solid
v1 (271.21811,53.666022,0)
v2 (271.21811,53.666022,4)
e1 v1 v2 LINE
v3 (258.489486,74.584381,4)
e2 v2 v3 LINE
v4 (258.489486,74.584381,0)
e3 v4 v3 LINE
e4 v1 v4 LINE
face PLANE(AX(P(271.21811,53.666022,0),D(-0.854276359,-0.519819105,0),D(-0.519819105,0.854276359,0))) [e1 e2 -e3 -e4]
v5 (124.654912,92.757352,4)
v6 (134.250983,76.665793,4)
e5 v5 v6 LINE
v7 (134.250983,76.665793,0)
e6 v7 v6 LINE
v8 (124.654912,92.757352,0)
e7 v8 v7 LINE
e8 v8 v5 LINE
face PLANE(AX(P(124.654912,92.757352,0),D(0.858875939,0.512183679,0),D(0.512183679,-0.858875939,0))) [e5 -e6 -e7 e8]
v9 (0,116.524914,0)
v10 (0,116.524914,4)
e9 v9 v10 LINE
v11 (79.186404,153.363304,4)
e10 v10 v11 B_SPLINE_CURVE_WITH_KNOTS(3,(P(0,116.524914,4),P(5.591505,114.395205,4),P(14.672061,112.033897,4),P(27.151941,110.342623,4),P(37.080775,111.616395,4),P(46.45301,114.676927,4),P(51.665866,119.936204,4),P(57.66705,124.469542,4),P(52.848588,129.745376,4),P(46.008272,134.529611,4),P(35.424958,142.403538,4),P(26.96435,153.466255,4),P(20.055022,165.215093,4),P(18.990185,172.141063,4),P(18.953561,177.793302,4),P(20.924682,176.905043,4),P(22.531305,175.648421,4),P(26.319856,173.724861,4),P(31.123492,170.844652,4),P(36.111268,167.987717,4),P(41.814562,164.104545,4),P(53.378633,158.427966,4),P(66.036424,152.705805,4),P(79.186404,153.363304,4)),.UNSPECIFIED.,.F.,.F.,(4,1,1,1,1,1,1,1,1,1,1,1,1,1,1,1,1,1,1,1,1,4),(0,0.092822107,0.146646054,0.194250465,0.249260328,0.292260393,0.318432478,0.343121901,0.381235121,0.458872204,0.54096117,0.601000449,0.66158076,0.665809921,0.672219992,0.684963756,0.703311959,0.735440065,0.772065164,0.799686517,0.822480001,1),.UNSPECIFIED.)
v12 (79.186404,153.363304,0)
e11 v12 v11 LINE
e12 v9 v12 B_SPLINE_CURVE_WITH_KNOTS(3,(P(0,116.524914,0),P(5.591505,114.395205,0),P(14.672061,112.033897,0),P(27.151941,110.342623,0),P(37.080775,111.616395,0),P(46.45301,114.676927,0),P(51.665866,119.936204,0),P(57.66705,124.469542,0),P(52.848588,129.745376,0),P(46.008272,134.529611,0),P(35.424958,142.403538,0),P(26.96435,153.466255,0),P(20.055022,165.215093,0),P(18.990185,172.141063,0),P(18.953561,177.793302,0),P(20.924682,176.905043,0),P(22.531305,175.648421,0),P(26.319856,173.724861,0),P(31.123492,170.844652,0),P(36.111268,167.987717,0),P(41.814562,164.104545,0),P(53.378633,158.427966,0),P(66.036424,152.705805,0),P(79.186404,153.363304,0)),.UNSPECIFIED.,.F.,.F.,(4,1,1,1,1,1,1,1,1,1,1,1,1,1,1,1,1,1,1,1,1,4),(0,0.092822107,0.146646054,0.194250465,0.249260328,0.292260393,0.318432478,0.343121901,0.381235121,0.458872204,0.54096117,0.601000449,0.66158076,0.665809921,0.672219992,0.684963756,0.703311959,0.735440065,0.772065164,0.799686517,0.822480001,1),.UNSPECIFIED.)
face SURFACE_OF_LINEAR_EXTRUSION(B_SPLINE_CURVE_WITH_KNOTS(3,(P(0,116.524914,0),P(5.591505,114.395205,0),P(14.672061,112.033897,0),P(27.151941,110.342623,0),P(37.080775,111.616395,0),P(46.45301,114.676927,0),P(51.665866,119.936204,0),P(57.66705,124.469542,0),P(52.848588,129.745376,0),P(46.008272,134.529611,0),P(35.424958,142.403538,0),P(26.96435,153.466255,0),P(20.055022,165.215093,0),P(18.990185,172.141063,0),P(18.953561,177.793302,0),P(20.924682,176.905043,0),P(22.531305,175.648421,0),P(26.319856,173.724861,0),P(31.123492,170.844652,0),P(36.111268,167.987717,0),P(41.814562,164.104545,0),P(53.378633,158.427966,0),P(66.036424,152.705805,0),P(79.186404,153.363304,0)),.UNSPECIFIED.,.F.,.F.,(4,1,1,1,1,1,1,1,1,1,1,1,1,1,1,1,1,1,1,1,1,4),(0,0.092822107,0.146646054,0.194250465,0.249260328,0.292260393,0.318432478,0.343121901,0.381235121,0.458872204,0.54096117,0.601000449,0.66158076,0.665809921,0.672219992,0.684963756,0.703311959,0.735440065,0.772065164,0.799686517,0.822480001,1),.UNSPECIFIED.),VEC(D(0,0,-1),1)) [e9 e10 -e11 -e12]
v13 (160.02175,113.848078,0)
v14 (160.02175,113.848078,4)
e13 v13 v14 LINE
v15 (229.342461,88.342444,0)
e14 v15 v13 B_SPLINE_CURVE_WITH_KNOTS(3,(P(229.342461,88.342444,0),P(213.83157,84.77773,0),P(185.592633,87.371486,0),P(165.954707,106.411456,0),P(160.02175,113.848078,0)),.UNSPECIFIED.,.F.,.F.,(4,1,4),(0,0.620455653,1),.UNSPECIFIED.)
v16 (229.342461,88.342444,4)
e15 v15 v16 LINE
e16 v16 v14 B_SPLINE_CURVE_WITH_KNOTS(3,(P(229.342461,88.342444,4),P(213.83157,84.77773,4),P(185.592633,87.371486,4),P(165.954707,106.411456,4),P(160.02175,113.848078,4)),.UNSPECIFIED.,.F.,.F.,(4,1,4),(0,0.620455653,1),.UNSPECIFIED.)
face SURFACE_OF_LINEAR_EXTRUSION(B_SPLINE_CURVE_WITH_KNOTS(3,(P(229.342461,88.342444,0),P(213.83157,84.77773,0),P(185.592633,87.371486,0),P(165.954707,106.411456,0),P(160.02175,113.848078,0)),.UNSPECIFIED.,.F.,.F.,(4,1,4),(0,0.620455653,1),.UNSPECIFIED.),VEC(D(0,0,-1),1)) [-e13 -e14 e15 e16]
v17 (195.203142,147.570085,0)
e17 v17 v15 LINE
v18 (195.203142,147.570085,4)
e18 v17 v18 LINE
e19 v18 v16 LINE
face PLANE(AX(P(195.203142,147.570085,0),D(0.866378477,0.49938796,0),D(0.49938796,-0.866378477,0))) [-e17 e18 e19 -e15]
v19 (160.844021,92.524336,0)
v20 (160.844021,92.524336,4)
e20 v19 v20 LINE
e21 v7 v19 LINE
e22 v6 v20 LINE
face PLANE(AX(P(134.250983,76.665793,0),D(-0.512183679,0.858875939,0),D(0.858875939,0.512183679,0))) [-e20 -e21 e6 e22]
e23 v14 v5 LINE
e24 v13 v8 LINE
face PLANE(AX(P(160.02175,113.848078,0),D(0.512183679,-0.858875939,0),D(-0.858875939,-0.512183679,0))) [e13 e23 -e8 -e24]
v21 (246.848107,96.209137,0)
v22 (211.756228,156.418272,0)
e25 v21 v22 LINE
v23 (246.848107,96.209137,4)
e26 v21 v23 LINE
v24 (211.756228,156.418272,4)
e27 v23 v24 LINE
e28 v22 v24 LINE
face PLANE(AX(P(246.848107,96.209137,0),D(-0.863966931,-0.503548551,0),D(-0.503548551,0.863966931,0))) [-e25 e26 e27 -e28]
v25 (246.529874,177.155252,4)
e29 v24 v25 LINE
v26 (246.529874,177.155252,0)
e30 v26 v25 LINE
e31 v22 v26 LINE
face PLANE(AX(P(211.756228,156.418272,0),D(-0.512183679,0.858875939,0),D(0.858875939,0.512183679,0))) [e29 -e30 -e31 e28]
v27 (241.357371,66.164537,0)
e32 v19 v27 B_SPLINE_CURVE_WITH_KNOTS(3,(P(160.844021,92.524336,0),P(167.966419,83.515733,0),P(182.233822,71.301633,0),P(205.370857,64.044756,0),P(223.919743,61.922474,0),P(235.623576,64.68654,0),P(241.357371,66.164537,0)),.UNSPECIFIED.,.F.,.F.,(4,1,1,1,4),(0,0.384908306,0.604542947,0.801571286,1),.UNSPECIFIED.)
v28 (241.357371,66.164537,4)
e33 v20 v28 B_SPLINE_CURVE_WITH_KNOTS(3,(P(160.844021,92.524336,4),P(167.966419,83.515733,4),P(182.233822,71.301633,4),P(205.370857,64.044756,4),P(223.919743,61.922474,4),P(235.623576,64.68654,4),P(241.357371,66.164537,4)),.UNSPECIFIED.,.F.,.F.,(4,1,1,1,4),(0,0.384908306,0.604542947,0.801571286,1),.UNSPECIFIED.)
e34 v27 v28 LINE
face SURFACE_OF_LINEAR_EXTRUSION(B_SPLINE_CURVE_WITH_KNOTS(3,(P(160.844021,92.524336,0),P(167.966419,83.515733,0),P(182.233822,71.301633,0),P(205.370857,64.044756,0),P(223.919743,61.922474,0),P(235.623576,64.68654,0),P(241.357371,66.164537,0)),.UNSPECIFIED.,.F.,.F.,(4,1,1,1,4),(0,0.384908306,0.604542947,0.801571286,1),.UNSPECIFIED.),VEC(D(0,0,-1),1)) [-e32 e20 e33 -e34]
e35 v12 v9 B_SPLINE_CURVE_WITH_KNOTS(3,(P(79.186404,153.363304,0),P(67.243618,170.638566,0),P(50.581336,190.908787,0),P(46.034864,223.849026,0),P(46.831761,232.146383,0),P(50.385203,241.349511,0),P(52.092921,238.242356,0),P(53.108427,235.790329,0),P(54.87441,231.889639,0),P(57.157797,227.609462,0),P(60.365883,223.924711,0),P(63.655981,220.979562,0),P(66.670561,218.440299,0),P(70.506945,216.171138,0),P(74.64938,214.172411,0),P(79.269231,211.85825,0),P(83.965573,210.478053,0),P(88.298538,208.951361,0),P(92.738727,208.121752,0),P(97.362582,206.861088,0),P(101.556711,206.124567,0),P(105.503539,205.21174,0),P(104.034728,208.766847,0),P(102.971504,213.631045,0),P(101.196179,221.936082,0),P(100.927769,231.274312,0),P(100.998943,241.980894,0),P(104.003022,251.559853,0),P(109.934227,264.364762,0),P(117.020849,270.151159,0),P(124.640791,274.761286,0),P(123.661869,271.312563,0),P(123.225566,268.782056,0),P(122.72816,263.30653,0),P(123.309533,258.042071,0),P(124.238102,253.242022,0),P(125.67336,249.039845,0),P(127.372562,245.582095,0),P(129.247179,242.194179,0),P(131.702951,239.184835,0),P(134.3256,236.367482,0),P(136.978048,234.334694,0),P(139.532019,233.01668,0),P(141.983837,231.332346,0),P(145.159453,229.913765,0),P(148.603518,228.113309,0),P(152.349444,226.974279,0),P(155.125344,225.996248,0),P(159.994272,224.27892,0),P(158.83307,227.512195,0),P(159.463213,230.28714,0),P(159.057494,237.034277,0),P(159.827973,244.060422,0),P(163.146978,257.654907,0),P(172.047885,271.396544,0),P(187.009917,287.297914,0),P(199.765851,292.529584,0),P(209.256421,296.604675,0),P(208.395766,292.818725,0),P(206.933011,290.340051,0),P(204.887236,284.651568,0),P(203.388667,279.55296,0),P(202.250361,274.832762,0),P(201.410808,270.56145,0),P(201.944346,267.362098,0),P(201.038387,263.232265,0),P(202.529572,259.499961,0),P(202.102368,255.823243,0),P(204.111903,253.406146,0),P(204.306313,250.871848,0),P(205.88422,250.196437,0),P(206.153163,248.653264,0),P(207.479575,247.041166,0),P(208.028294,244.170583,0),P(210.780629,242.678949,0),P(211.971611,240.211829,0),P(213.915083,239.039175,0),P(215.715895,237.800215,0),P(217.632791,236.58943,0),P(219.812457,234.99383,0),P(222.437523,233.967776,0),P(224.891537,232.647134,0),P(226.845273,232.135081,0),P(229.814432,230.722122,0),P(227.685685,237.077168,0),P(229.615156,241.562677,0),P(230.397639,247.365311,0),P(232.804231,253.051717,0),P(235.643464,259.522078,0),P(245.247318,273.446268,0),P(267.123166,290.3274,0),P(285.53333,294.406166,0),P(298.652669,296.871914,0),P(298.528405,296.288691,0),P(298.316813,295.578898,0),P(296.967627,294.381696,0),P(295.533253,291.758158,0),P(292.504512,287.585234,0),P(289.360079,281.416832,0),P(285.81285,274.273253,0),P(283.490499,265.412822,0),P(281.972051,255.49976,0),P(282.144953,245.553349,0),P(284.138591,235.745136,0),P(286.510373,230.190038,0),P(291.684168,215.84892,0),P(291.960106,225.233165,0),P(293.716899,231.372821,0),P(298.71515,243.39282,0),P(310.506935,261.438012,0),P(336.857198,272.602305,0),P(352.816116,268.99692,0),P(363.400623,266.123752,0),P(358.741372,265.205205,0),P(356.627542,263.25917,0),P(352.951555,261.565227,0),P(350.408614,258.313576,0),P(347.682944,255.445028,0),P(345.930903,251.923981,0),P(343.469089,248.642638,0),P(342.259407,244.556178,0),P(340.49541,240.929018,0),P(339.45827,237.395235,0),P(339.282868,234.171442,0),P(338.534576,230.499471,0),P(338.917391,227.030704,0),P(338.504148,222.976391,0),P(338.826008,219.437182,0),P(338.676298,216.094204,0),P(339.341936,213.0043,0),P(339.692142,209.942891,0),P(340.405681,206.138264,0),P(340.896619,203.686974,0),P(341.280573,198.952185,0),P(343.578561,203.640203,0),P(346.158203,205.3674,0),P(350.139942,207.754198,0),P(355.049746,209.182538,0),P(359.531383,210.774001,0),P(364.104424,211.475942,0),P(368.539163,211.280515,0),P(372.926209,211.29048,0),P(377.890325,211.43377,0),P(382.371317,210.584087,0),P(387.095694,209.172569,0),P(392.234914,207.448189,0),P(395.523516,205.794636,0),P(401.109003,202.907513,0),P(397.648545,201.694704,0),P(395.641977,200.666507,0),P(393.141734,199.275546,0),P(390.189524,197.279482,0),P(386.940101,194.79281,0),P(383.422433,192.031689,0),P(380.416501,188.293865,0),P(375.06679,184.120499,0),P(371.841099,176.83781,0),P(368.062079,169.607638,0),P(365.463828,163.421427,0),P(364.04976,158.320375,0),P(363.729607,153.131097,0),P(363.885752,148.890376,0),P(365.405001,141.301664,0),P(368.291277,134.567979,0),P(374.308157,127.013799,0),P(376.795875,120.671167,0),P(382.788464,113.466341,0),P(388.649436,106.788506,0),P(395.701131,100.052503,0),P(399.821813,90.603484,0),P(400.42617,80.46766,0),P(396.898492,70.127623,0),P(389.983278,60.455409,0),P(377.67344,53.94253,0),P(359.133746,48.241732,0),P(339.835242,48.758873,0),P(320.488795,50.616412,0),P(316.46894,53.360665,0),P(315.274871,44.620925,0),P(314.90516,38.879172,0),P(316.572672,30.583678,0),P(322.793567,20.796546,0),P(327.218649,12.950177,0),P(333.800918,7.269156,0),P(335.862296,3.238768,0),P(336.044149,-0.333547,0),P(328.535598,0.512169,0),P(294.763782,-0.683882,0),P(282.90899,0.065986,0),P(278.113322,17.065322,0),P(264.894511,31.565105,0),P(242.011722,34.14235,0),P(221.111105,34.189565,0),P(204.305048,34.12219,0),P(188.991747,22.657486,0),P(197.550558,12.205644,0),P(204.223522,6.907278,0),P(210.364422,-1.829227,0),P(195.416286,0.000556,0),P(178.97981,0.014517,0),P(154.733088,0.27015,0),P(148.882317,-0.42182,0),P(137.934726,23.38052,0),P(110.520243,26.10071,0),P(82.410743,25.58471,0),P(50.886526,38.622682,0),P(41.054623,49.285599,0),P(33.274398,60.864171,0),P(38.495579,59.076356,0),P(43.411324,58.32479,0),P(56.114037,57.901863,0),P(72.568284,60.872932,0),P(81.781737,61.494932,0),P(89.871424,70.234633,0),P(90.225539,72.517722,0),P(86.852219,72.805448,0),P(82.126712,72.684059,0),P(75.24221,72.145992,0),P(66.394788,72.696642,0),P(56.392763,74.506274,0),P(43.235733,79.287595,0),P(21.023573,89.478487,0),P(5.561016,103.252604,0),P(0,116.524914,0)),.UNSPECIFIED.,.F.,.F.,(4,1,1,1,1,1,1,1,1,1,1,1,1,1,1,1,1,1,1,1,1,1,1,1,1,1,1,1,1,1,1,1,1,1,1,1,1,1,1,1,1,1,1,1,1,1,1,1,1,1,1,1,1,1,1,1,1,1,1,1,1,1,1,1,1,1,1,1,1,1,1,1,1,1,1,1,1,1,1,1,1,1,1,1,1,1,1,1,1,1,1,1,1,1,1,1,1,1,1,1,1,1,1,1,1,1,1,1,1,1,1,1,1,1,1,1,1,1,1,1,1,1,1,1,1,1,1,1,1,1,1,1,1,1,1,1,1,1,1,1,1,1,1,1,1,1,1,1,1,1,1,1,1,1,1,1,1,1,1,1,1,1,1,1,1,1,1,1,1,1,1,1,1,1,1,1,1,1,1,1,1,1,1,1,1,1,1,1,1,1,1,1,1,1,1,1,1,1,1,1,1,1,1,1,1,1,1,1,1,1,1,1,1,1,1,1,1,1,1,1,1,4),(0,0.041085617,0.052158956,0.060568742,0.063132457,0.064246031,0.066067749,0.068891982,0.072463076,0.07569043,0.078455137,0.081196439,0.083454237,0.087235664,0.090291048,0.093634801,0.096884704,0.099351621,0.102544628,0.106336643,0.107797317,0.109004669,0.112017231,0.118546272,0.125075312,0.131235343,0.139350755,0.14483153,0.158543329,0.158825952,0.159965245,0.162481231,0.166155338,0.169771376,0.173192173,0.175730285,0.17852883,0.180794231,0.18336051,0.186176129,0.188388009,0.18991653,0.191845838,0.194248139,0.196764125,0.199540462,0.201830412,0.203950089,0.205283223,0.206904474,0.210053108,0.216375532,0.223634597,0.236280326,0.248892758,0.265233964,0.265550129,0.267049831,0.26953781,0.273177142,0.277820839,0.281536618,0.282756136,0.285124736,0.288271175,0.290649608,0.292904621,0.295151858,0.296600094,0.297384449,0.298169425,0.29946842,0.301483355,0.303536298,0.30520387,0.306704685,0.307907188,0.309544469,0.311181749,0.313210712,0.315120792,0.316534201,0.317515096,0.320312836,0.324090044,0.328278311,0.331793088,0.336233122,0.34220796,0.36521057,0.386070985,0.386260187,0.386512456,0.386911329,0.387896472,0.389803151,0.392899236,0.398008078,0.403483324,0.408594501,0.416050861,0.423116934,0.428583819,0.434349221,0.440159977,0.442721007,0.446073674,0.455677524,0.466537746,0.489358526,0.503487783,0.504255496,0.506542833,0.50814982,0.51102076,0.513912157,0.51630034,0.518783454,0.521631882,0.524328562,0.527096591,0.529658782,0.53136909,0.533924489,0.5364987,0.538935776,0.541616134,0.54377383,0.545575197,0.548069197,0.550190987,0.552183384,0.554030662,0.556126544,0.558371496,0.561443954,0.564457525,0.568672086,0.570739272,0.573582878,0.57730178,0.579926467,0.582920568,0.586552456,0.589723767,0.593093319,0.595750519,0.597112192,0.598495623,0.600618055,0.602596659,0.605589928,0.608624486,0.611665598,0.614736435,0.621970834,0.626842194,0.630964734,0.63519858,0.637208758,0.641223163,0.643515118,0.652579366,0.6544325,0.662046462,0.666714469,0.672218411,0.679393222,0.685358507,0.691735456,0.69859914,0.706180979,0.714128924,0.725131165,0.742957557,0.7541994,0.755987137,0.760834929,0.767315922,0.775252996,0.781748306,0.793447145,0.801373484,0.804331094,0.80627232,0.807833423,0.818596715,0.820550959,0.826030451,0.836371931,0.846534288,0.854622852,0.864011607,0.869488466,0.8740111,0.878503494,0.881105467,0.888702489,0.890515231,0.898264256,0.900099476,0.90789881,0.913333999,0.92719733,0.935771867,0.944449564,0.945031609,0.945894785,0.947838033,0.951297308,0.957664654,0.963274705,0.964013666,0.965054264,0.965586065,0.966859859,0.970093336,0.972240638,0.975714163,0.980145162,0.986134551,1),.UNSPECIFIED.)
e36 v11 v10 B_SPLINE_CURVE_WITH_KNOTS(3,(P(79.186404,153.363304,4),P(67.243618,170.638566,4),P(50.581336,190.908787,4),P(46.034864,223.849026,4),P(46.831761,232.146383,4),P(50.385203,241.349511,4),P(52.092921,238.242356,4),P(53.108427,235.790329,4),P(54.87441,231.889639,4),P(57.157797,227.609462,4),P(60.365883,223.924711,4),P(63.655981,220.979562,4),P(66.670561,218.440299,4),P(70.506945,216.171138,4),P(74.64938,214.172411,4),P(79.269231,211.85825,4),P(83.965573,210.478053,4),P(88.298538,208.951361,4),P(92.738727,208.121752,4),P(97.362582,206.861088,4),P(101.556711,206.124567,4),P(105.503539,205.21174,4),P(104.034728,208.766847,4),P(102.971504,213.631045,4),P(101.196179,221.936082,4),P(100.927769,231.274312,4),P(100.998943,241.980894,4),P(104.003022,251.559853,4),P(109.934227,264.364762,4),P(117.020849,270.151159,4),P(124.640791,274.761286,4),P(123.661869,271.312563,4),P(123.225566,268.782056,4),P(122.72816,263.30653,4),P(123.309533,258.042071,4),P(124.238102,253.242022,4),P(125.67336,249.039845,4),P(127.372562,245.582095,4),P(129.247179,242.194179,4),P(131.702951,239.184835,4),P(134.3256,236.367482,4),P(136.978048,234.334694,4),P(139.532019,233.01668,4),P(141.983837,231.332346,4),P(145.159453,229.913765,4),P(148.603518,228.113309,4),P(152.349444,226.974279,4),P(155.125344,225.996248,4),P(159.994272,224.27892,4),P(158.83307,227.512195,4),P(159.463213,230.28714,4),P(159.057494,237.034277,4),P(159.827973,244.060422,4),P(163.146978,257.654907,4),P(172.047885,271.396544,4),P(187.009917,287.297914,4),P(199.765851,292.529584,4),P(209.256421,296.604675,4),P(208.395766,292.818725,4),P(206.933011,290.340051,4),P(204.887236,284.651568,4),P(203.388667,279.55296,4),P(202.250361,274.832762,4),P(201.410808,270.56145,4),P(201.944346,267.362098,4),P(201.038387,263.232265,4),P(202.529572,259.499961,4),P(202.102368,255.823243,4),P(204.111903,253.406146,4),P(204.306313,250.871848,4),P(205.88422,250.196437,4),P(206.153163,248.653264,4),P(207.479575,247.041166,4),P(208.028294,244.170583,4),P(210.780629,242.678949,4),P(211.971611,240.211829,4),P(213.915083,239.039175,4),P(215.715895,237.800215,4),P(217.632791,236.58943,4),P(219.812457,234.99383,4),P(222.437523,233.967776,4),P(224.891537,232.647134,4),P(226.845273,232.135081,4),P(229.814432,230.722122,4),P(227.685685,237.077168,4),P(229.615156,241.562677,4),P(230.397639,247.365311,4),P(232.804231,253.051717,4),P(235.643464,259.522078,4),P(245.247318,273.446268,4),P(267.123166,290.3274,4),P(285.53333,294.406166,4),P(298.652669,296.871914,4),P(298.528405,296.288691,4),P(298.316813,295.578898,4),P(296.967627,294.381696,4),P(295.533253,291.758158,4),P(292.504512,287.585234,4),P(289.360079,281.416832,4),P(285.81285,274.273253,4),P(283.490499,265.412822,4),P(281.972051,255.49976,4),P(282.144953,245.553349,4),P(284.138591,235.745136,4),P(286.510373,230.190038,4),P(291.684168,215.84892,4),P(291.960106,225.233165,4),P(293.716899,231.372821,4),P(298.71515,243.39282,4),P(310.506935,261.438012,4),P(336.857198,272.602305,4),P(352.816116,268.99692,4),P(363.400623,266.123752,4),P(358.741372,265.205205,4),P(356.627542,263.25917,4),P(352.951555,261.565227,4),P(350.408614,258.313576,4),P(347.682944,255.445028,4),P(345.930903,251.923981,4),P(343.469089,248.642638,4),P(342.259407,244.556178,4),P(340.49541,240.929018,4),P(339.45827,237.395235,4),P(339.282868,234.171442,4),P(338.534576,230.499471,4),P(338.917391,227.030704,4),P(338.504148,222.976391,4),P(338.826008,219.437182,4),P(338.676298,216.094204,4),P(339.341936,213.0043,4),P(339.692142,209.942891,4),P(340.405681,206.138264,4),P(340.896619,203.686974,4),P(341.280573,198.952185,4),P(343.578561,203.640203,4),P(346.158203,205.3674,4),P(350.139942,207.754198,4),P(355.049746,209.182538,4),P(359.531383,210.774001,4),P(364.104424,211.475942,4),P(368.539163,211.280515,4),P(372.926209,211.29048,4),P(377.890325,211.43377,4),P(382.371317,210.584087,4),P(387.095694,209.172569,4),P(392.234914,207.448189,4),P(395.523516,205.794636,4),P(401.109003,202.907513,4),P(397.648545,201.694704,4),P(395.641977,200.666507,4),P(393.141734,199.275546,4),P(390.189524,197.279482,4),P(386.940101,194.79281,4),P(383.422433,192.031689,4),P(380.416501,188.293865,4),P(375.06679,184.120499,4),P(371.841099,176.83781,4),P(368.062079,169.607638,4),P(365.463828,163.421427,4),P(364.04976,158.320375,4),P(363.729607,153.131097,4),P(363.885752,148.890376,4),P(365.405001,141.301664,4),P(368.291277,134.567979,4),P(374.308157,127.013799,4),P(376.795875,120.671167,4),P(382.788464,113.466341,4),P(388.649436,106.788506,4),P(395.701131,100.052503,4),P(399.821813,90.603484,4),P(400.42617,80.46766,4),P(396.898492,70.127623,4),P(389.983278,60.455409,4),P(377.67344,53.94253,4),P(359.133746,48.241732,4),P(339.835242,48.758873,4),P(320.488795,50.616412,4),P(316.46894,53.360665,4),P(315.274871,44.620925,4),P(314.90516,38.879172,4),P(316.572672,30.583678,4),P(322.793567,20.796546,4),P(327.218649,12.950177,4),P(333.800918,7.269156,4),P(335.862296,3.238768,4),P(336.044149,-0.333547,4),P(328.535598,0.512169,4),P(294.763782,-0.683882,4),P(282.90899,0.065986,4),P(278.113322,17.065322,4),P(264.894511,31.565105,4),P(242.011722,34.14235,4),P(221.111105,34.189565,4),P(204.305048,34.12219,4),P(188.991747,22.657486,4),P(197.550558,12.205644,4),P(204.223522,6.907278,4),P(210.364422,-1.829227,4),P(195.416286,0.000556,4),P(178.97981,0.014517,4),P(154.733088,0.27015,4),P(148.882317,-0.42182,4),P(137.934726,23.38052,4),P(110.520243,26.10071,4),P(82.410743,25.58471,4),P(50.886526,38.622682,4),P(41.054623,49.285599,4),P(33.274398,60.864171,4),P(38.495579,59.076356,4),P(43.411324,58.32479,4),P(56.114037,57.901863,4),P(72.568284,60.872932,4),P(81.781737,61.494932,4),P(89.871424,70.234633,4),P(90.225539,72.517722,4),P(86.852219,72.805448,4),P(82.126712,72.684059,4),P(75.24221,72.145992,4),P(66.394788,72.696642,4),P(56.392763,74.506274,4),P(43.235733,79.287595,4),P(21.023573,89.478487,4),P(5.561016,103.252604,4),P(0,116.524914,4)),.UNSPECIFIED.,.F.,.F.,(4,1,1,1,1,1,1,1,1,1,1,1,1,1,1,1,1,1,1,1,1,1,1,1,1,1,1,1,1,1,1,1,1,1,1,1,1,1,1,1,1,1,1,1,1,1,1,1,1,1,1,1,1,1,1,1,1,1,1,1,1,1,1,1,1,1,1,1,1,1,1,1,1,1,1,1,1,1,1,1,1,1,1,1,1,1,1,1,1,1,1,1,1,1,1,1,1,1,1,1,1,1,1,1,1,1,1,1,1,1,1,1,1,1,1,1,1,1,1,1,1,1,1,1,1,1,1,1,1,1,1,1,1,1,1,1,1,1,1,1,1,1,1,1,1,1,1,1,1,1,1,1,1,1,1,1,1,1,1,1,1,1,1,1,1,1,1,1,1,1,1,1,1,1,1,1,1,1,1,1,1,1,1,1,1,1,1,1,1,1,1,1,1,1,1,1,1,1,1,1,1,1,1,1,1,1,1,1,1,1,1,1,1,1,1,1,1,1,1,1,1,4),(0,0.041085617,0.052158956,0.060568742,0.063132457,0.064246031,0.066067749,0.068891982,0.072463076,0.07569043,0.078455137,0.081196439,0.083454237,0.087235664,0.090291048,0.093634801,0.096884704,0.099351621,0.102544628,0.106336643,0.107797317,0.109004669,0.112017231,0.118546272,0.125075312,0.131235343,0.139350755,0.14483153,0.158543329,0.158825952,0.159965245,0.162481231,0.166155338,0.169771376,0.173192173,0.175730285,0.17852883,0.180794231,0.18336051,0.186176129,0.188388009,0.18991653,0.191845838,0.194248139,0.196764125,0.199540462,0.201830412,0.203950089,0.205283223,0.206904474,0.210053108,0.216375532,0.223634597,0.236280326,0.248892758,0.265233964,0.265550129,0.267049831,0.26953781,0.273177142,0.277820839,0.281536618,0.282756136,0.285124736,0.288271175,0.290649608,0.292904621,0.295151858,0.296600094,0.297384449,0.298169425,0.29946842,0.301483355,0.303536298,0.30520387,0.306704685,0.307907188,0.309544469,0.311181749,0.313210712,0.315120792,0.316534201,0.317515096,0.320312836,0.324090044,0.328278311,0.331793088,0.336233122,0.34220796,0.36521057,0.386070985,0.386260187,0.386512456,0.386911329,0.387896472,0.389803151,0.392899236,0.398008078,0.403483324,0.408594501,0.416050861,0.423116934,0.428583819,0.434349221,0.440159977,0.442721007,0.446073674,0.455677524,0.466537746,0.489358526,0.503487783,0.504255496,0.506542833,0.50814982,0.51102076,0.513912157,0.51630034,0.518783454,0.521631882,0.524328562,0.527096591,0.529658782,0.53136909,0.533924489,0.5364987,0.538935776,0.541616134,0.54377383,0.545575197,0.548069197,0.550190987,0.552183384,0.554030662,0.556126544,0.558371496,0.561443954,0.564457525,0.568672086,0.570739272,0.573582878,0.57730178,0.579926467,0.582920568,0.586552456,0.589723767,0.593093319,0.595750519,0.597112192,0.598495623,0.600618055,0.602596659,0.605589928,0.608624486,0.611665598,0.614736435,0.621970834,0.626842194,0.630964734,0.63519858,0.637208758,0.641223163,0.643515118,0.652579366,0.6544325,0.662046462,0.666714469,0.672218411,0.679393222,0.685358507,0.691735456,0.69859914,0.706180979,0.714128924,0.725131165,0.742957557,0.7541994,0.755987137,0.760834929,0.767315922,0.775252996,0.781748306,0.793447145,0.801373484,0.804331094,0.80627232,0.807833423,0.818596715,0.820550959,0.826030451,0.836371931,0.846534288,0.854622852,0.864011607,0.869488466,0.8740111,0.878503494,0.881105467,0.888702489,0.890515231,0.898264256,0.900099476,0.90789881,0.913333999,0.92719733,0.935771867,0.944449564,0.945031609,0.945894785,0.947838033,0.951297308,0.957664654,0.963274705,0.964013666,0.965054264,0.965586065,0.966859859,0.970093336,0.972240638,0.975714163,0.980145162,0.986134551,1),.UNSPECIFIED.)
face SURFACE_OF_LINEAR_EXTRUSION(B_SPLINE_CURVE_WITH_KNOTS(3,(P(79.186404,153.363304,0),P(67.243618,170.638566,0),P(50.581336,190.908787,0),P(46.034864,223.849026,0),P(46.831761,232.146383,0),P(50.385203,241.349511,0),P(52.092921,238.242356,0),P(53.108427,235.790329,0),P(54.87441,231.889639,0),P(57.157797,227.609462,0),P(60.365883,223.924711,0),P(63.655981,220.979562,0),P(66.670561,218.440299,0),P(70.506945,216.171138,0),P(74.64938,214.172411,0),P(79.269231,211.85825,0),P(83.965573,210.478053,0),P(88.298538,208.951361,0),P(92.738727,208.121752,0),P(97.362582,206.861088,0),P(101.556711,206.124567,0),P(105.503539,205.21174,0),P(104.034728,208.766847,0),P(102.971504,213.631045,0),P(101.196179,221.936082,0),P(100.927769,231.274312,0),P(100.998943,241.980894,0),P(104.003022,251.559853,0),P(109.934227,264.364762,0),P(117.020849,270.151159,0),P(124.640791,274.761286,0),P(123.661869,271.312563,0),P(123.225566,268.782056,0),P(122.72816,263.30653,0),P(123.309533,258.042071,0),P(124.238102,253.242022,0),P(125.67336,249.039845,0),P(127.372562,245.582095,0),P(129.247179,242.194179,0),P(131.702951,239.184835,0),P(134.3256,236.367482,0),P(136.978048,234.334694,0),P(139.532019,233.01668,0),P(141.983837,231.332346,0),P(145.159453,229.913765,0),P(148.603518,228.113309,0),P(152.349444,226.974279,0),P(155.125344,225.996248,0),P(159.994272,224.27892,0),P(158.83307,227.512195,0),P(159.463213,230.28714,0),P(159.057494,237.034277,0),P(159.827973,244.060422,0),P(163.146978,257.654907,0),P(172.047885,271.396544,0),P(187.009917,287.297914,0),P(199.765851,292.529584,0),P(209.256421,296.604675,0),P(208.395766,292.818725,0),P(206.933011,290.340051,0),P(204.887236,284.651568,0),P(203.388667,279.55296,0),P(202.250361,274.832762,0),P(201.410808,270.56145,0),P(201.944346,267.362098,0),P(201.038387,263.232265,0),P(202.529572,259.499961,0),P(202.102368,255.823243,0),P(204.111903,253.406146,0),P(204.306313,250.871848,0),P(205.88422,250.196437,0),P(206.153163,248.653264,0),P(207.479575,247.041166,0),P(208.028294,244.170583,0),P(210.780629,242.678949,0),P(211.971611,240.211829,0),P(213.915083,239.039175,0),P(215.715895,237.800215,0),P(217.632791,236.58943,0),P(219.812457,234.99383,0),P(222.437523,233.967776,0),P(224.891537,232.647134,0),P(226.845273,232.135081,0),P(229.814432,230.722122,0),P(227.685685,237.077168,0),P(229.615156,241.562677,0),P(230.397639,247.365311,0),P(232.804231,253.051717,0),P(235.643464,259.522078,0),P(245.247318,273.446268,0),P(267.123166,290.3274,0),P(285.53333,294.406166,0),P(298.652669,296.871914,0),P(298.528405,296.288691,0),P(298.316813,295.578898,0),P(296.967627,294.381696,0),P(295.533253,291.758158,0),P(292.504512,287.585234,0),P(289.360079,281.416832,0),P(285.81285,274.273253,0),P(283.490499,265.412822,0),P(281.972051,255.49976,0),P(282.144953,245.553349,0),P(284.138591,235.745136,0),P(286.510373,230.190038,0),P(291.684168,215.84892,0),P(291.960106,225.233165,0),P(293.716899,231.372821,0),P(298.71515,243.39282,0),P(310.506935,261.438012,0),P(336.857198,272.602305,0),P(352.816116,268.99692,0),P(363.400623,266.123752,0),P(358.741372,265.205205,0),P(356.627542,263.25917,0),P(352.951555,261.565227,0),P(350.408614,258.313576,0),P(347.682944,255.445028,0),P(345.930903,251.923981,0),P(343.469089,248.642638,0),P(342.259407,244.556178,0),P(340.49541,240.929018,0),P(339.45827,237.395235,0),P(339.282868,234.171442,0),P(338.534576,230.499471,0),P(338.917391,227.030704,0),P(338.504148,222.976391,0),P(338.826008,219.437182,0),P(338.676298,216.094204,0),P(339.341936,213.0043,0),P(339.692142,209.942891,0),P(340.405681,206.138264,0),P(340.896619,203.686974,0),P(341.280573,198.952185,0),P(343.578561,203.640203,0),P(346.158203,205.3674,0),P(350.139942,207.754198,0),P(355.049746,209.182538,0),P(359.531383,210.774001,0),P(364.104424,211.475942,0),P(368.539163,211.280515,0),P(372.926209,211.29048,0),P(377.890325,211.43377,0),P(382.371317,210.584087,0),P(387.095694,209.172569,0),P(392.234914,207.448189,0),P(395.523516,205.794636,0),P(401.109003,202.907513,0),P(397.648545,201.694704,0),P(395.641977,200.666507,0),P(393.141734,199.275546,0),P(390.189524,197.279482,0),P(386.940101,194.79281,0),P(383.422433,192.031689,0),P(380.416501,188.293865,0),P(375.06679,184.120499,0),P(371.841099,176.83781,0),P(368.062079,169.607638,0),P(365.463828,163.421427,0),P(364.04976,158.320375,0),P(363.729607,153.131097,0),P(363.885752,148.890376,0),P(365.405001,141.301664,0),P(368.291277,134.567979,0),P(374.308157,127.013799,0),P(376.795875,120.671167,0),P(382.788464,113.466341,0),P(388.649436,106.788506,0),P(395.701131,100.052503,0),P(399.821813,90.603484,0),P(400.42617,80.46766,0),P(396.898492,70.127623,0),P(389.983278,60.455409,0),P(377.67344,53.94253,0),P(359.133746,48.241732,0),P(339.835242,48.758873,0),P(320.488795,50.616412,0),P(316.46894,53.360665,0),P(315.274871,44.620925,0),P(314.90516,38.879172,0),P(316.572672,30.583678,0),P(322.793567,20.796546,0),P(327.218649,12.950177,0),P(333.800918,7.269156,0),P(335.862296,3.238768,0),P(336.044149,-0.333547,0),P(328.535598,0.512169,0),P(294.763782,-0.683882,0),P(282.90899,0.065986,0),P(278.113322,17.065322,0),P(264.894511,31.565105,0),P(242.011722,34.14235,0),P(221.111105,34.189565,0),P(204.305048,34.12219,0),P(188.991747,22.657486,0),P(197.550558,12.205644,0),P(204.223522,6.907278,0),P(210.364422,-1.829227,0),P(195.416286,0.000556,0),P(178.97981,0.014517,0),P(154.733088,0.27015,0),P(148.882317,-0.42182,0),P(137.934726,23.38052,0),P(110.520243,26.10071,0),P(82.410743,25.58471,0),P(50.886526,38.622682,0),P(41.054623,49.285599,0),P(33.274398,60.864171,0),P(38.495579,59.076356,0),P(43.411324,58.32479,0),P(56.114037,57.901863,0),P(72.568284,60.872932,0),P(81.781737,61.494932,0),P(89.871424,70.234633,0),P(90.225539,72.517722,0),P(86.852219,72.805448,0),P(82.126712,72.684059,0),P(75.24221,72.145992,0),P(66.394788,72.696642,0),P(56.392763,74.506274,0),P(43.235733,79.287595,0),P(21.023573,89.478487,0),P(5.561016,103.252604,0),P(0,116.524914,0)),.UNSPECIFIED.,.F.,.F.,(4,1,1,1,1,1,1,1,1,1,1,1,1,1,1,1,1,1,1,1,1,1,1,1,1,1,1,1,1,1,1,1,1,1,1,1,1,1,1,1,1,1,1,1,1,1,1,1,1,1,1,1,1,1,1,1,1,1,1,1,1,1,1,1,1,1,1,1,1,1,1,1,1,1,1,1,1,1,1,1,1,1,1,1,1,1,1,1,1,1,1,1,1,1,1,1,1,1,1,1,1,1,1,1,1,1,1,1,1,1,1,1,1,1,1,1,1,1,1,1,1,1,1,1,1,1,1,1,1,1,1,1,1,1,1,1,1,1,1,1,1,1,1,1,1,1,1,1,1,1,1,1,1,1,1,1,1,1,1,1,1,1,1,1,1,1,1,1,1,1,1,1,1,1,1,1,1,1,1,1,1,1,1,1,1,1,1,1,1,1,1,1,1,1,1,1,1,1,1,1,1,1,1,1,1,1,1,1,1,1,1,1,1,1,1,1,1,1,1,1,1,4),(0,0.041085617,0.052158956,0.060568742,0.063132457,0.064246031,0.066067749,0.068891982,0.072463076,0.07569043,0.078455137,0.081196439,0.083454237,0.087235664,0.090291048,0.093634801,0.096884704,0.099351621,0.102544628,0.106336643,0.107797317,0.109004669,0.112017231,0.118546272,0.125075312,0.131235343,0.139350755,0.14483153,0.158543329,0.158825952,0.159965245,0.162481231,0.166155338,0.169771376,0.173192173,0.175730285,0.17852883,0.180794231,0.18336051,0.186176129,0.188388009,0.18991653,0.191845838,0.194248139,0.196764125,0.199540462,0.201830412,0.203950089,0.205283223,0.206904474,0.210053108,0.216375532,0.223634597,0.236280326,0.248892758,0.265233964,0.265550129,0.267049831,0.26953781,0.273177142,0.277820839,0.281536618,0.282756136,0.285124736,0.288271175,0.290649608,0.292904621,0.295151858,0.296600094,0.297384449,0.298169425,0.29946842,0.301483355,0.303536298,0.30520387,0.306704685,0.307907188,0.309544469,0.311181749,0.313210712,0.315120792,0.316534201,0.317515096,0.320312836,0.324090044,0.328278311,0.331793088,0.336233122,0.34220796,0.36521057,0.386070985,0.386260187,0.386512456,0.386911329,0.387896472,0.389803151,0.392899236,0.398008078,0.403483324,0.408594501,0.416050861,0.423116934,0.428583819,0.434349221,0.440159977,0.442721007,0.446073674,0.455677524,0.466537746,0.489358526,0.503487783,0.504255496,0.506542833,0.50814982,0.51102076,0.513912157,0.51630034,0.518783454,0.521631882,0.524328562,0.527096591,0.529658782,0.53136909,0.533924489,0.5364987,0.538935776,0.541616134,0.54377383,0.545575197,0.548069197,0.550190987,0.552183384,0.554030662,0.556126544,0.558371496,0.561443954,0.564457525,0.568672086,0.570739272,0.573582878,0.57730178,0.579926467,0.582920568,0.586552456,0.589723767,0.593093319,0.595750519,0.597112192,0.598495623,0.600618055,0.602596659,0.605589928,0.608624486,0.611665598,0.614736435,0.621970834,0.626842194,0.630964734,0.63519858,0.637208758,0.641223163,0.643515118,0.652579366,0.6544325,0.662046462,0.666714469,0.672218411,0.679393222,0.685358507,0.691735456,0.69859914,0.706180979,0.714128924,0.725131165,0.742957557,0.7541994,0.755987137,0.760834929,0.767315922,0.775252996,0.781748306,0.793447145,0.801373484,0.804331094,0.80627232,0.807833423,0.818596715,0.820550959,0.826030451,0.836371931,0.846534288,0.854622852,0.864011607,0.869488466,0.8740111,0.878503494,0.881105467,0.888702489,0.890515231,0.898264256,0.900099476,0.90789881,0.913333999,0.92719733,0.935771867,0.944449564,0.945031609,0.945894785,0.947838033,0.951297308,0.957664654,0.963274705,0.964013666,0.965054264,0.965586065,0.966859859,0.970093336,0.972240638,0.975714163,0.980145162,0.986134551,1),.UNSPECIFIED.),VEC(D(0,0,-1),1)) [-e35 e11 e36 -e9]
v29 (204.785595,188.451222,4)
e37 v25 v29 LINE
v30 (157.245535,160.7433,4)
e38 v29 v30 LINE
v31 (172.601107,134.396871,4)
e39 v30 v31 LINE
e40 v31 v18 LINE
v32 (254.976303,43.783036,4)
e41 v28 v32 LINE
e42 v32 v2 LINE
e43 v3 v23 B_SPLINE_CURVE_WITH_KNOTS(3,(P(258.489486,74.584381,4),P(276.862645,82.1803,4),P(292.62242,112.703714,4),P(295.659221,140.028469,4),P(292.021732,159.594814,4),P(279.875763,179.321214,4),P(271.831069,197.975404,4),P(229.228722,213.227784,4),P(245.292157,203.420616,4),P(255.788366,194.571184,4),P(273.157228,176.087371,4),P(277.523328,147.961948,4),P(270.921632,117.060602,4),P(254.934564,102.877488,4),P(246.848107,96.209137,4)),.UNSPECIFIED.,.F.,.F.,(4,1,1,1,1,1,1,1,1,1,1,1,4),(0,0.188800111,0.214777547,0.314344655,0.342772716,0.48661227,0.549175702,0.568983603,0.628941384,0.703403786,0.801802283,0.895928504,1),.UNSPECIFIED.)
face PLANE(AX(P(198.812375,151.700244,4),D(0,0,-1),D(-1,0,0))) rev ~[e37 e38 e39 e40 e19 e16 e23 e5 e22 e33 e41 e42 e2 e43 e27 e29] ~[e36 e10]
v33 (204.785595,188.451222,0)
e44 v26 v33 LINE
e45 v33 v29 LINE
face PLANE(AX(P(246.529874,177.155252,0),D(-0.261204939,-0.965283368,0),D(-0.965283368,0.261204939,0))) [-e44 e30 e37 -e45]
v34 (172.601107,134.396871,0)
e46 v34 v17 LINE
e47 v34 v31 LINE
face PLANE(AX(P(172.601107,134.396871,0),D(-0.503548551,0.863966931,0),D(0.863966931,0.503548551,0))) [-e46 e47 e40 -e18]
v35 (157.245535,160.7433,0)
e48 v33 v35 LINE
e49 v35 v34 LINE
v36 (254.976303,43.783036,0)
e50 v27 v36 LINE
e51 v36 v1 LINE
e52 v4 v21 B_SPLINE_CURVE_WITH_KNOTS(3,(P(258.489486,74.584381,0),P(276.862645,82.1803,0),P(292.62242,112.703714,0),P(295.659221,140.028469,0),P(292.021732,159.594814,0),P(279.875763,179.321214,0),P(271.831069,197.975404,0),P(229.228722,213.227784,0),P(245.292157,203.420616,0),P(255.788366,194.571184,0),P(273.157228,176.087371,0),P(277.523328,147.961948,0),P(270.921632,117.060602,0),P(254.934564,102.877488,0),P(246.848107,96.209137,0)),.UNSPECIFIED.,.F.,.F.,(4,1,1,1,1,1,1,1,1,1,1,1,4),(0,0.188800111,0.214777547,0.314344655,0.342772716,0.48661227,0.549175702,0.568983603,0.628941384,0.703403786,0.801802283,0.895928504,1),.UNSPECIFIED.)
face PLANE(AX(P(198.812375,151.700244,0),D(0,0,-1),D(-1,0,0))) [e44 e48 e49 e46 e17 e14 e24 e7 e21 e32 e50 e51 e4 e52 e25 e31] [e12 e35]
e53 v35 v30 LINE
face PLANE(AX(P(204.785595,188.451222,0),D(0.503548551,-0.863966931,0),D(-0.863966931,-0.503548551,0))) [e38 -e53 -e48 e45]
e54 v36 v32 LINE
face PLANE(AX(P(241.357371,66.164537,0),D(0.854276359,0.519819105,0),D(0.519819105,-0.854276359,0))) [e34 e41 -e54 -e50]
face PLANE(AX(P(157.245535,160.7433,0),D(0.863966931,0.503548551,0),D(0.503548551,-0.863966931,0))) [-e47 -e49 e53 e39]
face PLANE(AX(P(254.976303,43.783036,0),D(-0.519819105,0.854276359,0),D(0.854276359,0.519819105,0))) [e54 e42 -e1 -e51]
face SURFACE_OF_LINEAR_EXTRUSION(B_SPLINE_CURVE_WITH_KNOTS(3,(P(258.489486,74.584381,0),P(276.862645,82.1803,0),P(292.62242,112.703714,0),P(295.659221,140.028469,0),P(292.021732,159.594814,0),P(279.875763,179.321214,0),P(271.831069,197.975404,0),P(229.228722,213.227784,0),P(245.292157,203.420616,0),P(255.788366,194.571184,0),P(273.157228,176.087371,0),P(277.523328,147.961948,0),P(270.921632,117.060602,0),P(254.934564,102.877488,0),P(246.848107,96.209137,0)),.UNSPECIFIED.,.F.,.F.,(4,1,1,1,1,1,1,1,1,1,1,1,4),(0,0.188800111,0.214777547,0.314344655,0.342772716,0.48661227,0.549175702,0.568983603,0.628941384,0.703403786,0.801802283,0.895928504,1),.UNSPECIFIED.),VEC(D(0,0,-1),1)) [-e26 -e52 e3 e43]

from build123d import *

# Parameters (mm, degrees)
EXTRUDE_1_DEPTH = 4


with BuildPart() as part:
    # Эскиз2 → Бобышка-Вытянуть1 (new body)
    with BuildSketch(Plane.XY):
        with BuildLine():
            add(Edge.make_bspline(
                [(79.186403569, 153.363303991), (67.243617663, 170.638565994), (50.581335502, 190.90878701), (46.034863615, 223.849026031), (46.831761116, 232.1463826), (50.385202638, 241.349511454), (52.092920875, 238.24235588), (53.108427021, 235.790329428), (54.874409685, 231.889639428), (57.157797024, 227.609461887), (60.365882757, 223.924710938), (63.655980666, 220.979562248), (66.670560612, 218.440299115), (70.506944812, 216.171137773), (74.649380381, 214.172410864), (79.269230977, 211.85824958), (83.965573041, 210.478052718), (88.298538191, 208.951361136), (92.738727328, 208.121752352), (97.362581844, 206.861088018), (101.556711136, 206.1245671), (105.503538693, 205.211740416), (104.034728068, 208.766847156), (102.971503848, 213.631045003), (101.196178628, 221.936081718), (100.927768873, 231.274312124), (100.99894299, 241.980893986), (104.003021865, 251.559852669), (109.93422744, 264.364761585), (117.020849428, 270.151159176), (124.640791067, 274.761286103), (123.661869405, 271.312563241), (123.225565656, 268.78205649), (122.7281604, 263.306529855), (123.309532646, 258.042071404), (124.238101561, 253.242022358), (125.673359968, 249.039845009), (127.372561822, 245.582095303), (129.247178718, 242.194179044), (131.702951477, 239.184835031), (134.325599631, 236.3674817), (136.978047786, 234.334693714), (139.532019181, 233.016679899), (141.983836914, 231.332345766), (145.15945314, 229.913765298), (148.603517814, 228.113309222), (152.349443691, 226.974279143), (155.125343615, 225.99624835), (159.99427209, 224.278920458), (158.833069706, 227.512195021), (159.463213092, 230.287140342), (159.057493504, 237.034276676), (159.827973146, 244.060421501), (163.146978138, 257.654906659), (172.047884763, 271.396543525), (187.009917427, 287.297913906), (199.765850997, 292.529583515), (209.256420747, 296.604675465), (208.395766267, 292.818724625), (206.933011336, 290.340050862), (204.887236301, 284.651568021), (203.388667039, 279.552959597), (202.250361483, 274.832761874), (201.410808274, 270.561449793), (201.944345669, 267.362098168), (201.038386551, 263.232264961), (202.529572266, 259.499960714), (202.102367509, 255.823242651), (204.111903362, 253.406146119), (204.306312981, 250.871848451), (205.884220403, 250.196437043), (206.153162788, 248.653264252), (207.479574769, 247.041165501), (208.028293821, 244.170583444), (210.780629228, 242.678949132), (211.97161102, 240.211828707), (213.915083187, 239.039174936), (215.715894921, 237.800215175), (217.632791044, 236.58943025), (219.812457004, 234.993829852), (222.437523024, 233.967776115), (224.891536895, 232.647134003), (226.845273128, 232.135080888), (229.814431994, 230.72212218), (227.685685188, 237.077168493), (229.615156402, 241.562676626), (230.397639022, 247.365310931), (232.804230801, 253.051716956), (235.643464014, 259.52207784), (245.24731793, 273.446268344), (267.123166402, 290.327399977), (285.533329597, 294.406166093), (298.652668862, 296.871914278), (298.528404539, 296.288690653), (298.316812514, 295.578898486), (296.967626715, 294.381696023), (295.533253149, 291.758158199), (292.504511888, 287.58523395), (289.360079135, 281.416832031), (285.812850316, 274.273253247), (283.490498964, 265.412821728), (281.972051467, 255.499760239), (282.144952719, 245.553349209), (284.138591397, 235.745135569), (286.510372642, 230.190037507), (291.684167614, 215.848919885), (291.960106281, 225.233164549), (293.716898728, 231.372821448), (298.715149616, 243.392820031), (310.506935275, 261.438011557), (336.857198006, 272.602305475), (352.81611607, 268.996919897), (363.400622527, 266.123751705), (358.741371941, 265.20520495), (356.627542317, 263.259170159), (352.951555007, 261.565226617), (350.408614142, 258.31357602), (347.682943894, 255.445028325), (345.930903073, 251.923981224), (343.469089243, 248.642637713), (342.25940668, 244.556178289), (340.4954102, 240.92901825), (339.458269667, 237.395235412), (339.282867871, 234.17144167), (338.534576198, 230.499471247), (338.917391031, 227.030704092), (338.504148169, 222.976391214), (338.826008248, 219.437181746), (338.67629828, 216.094203883), (339.341935775, 213.00430045), (339.692141555, 209.942891306), (340.405680948, 206.138263552), (340.896618512, 203.68697405), (341.280573467, 198.952184616), (343.578561212, 203.640203139), (346.158203136, 205.367399865), (350.139942107, 207.754198428), (355.04974648, 209.182537854), (359.531382614, 210.774001159), (364.104424296, 211.475942492), (368.539162782, 211.280514961), (372.926209042, 211.290479694), (377.890325033, 211.433770266), (382.371316624, 210.584086548), (387.095694046, 209.172569441), (392.234914035, 207.448189158), (395.523516394, 205.794635504), (401.10900257, 202.907512551), (397.648545066, 201.694703644), (395.641976717, 200.666507198), (393.141733965, 199.27554563), (390.18952363, 197.279481583), (386.940100877, 194.792810106), (383.422432865, 192.031689172), (380.416501481, 188.293865231), (375.0667903, 184.120498611), (371.841099071, 176.837809895), (368.062079091, 169.607638046), (365.463828048, 163.421426767), (364.049760468, 158.320374782), (363.729606767, 153.131096501), (363.885752057, 148.890376336), (365.405001314, 141.301663988), (368.291276661, 134.567978783), (374.308157158, 127.013798707), (376.795874563, 120.671167012), (382.788463546, 113.466341117), (388.649436388, 106.788505931), (395.701131189, 100.052503189), (399.821812762, 90.603483891), (400.426170433, 80.467660445), (396.898492381, 70.127623411), (389.983277512, 60.455408611), (377.67343953, 53.942530151), (359.133746245, 48.241732016), (339.835242073, 48.758873268), (320.488795218, 50.616411766), (316.468940306, 53.360664718), (315.274871164, 44.62092465), (314.90515958, 38.879172321), (316.572671758, 30.583678047), (322.79356739, 20.796545836), (327.218648843, 12.950177283), (333.800918061, 7.269155651), (335.862296255, 3.238768436), (336.044149424, -0.333546972), (328.535598269, 0.512169191), (294.763782112, -0.683882073), (282.908989825, 0.065986377), (278.113321755, 17.06532213), (264.894510557, 31.565104706), (242.011722218, 34.142349993), (221.111104966, 34.189565363), (204.30504788, 34.122190159), (188.991747373, 22.657486165), (197.550558259, 12.205644443), (204.223522271, 6.907277929), (210.364421503, -1.829227049), (195.416286452, 0.000556254), (178.979809833, 0.014516779), (154.733088341, 0.270150149), (148.882317333, -0.42182038), (137.934725532, 23.38051959), (110.520242805, 26.100710494), (82.410742898, 25.584710266), (50.886525958, 38.622682262), (41.054622504, 49.285599101), (33.274397603, 60.864170904), (38.495578581, 59.076355659), (43.411323767, 58.324790471), (56.11403683, 57.901862835), (72.568283967, 60.872932453), (81.781737432, 61.494932277), (89.871423597, 70.234633304), (90.225538629, 72.517722258), (86.85221947, 72.805447737), (82.126712496, 72.684059031), (75.242210045, 72.14599235), (66.394787961, 72.696642232), (56.392763162, 74.506273894), (43.235732967, 79.287595225), (21.023572775, 89.478486772), (5.561016325, 103.252603525), (0, 116.524913915)],
                knots=[0, 0, 0, 0, 0.041085617, 0.052158956, 0.060568742, 0.063132457, 0.064246031, 0.066067749, 0.068891982, 0.072463076, 0.07569043, 0.078455137, 0.081196439, 0.083454237, 0.087235664, 0.090291048, 0.093634801, 0.096884704, 0.099351621, 0.102544628, 0.106336643, 0.107797317, 0.109004669, 0.112017231, 0.118546272, 0.125075312, 0.131235343, 0.139350755, 0.14483153, 0.158543329, 0.158825952, 0.159965245, 0.162481231, 0.166155338, 0.169771376, 0.173192173, 0.175730285, 0.17852883, 0.180794231, 0.18336051, 0.186176129, 0.188388009, 0.18991653, 0.191845838, 0.194248139, 0.196764125, 0.199540462, 0.201830412, 0.203950089, 0.205283223, 0.206904474, 0.210053108, 0.216375532, 0.223634597, 0.236280326, 0.248892758, 0.265233964, 0.265550129, 0.267049831, 0.26953781, 0.273177142, 0.277820839, 0.281536618, 0.282756136, 0.285124736, 0.288271175, 0.290649608, 0.292904621, 0.295151858, 0.296600094, 0.297384449, 0.298169425, 0.29946842, 0.301483355, 0.303536298, 0.30520387, 0.306704685, 0.307907188, 0.309544469, 0.311181749, 0.313210712, 0.315120792, 0.316534201, 0.317515096, 0.320312836, 0.324090044, 0.328278311, 0.331793088, 0.336233122, 0.34220796, 0.36521057, 0.386070985, 0.386260187, 0.386512456, 0.386911329, 0.387896472, 0.389803151, 0.392899236, 0.398008078, 0.403483324, 0.408594501, 0.416050861, 0.423116934, 0.428583819, 0.434349221, 0.440159977, 0.442721007, 0.446073674, 0.455677524, 0.466537746, 0.489358526, 0.503487783, 0.504255496, 0.506542833, 0.50814982, 0.51102076, 0.513912157, 0.51630034, 0.518783454, 0.521631882, 0.524328562, 0.527096591, 0.529658782, 0.53136909, 0.533924489, 0.5364987, 0.538935776, 0.541616134, 0.54377383, 0.545575197, 0.548069197, 0.550190987, 0.552183384, 0.554030662, 0.556126544, 0.558371496, 0.561443954, 0.564457525, 0.568672086, 0.570739272, 0.573582878, 0.57730178, 0.579926467, 0.582920568, 0.586552456, 0.589723767, 0.593093319, 0.595750519, 0.597112192, 0.598495623, 0.600618055, 0.602596659, 0.605589928, 0.608624486, 0.611665598, 0.614736435, 0.621970834, 0.626842194, 0.630964734, 0.63519858, 0.637208758, 0.641223163, 0.643515118, 0.652579366, 0.6544325, 0.662046462, 0.666714469, 0.672218411, 0.679393222, 0.685358507, 0.691735456, 0.69859914, 0.706180979, 0.714128924, 0.725131165, 0.742957557, 0.7541994, 0.755987137, 0.760834929, 0.767315922, 0.775252996, 0.781748306, 0.793447145, 0.801373484, 0.804331094, 0.80627232, 0.807833423, 0.818596715, 0.820550959, 0.826030451, 0.836371931, 0.846534288, 0.854622852, 0.864011607, 0.869488466, 0.8740111, 0.878503494, 0.881105467, 0.888702489, 0.890515231, 0.898264256, 0.900099476, 0.90789881, 0.913333999, 0.92719733, 0.935771867, 0.944449564, 0.945031609, 0.945894785, 0.947838033, 0.951297308, 0.957664654, 0.963274705, 0.964013666, 0.965054264, 0.965586065, 0.966859859, 0.970093336, 0.972240638, 0.975714163, 0.980145162, 0.986134551, 1, 1, 1, 1], degree=3))
            add(Edge.make_bspline(
                [(0, 116.524913915), (5.591504686, 114.395204768), (14.672060946, 112.033896533), (27.151940937, 110.342623388), (37.080774516, 111.616394534), (46.45300966, 114.676927099), (51.665866095, 119.936203837), (57.667049788, 124.469542022), (52.848587539, 129.745376314), (46.008272234, 134.529610707), (35.424957952, 142.403537512), (26.96434955, 153.466254955), (20.055022159, 165.215093428), (18.990184575, 172.14106266), (18.953561356, 177.793301731), (20.924681788, 176.905043088), (22.5313045, 175.648421087), (26.319856146, 173.724860607), (31.123492282, 170.844651676), (36.111267621, 167.98771659), (41.814561752, 164.104545376), (53.37863329, 158.427965902), (66.036423782, 152.705805002), (79.186403569, 153.363303991)],
                knots=[0, 0, 0, 0, 0.092822107, 0.146646054, 0.194250465, 0.249260328, 0.292260393, 0.318432478, 0.343121901, 0.381235121, 0.458872204, 0.54096117, 0.601000449, 0.66158076, 0.665809921, 0.672219992, 0.684963756, 0.703311959, 0.735440065, 0.772065164, 0.799686517, 0.822480001, 1, 1, 1, 1], degree=3))
        make_face()
        with BuildLine():
            add(Edge.make_bspline(
                [(160.844021232, 92.524335729), (167.966418567, 83.515733346), (182.233822048, 71.301633438), (205.370857172, 64.044756365), (223.919743207, 61.922473577), (235.623575793, 64.686539819), (241.357370857, 66.164537291)],
                knots=[0, 0, 0, 0, 0.384908306, 0.604542947, 0.801571286, 1, 1, 1, 1], degree=3))
            Line((241.357370857, 66.164537291), (254.976303319, 43.78303588))
            Line((254.976303319, 43.78303588), (271.218110246, 53.66602217))
            Line((271.218110246, 53.66602217), (258.489486219, 74.584381036))
            add(Edge.make_bspline(
                [(258.489486219, 74.584381036), (276.86264476, 82.180299518), (292.622419506, 112.703714143), (295.659220671, 140.028468907), (292.021731976, 159.594813581), (279.875763222, 179.32121412), (271.831068688, 197.97540413), (229.228721959, 213.227783655), (245.292157114, 203.420616177), (255.788366138, 194.571184444), (273.157227775, 176.087371395), (277.523327573, 147.961948026), (270.921632373, 117.060602203), (254.934564318, 102.877488165), (246.848107105, 96.209136804)],
                knots=[0, 0, 0, 0, 0.188800111, 0.214777547, 0.314344655, 0.342772716, 0.48661227, 0.549175702, 0.568983603, 0.628941384, 0.703403786, 0.801802283, 0.895928504, 1, 1, 1, 1], degree=3))
            Line((246.848107105, 96.209136804), (211.756228355, 156.418272022))
            Line((211.756228355, 156.418272022), (246.529873506, 177.155252431))
            Line((246.529873506, 177.155252431), (204.785595356, 188.451222085))
            Line((204.785595356, 188.451222085), (157.245535292, 160.743300065))
            Line((157.245535292, 160.743300065), (172.60110708, 134.396870888))
            Line((172.60110708, 134.396870888), (195.203141701, 147.570085477))
            Line((195.203141701, 147.570085477), (229.342460592, 88.342443887))
            add(Edge.make_bspline(
                [(229.342460592, 88.342443887), (213.831569795, 84.777730066), (185.592633213, 87.371486244), (165.954706768, 106.411455972), (160.021749611, 113.848077778)],
                knots=[0, 0, 0, 0, 0.620455653, 1, 1, 1, 1], degree=3))
            Line((160.021749611, 113.848077778), (124.654912389, 92.757352103))
            Line((124.654912389, 92.757352103), (134.25098251, 76.665793417))
            Line((134.25098251, 76.665793417), (160.844021232, 92.524335729))
        make_face(mode=Mode.SUBTRACT)
    extrude(amount=EXTRUDE_1_DEPTH)


solid = part.part
